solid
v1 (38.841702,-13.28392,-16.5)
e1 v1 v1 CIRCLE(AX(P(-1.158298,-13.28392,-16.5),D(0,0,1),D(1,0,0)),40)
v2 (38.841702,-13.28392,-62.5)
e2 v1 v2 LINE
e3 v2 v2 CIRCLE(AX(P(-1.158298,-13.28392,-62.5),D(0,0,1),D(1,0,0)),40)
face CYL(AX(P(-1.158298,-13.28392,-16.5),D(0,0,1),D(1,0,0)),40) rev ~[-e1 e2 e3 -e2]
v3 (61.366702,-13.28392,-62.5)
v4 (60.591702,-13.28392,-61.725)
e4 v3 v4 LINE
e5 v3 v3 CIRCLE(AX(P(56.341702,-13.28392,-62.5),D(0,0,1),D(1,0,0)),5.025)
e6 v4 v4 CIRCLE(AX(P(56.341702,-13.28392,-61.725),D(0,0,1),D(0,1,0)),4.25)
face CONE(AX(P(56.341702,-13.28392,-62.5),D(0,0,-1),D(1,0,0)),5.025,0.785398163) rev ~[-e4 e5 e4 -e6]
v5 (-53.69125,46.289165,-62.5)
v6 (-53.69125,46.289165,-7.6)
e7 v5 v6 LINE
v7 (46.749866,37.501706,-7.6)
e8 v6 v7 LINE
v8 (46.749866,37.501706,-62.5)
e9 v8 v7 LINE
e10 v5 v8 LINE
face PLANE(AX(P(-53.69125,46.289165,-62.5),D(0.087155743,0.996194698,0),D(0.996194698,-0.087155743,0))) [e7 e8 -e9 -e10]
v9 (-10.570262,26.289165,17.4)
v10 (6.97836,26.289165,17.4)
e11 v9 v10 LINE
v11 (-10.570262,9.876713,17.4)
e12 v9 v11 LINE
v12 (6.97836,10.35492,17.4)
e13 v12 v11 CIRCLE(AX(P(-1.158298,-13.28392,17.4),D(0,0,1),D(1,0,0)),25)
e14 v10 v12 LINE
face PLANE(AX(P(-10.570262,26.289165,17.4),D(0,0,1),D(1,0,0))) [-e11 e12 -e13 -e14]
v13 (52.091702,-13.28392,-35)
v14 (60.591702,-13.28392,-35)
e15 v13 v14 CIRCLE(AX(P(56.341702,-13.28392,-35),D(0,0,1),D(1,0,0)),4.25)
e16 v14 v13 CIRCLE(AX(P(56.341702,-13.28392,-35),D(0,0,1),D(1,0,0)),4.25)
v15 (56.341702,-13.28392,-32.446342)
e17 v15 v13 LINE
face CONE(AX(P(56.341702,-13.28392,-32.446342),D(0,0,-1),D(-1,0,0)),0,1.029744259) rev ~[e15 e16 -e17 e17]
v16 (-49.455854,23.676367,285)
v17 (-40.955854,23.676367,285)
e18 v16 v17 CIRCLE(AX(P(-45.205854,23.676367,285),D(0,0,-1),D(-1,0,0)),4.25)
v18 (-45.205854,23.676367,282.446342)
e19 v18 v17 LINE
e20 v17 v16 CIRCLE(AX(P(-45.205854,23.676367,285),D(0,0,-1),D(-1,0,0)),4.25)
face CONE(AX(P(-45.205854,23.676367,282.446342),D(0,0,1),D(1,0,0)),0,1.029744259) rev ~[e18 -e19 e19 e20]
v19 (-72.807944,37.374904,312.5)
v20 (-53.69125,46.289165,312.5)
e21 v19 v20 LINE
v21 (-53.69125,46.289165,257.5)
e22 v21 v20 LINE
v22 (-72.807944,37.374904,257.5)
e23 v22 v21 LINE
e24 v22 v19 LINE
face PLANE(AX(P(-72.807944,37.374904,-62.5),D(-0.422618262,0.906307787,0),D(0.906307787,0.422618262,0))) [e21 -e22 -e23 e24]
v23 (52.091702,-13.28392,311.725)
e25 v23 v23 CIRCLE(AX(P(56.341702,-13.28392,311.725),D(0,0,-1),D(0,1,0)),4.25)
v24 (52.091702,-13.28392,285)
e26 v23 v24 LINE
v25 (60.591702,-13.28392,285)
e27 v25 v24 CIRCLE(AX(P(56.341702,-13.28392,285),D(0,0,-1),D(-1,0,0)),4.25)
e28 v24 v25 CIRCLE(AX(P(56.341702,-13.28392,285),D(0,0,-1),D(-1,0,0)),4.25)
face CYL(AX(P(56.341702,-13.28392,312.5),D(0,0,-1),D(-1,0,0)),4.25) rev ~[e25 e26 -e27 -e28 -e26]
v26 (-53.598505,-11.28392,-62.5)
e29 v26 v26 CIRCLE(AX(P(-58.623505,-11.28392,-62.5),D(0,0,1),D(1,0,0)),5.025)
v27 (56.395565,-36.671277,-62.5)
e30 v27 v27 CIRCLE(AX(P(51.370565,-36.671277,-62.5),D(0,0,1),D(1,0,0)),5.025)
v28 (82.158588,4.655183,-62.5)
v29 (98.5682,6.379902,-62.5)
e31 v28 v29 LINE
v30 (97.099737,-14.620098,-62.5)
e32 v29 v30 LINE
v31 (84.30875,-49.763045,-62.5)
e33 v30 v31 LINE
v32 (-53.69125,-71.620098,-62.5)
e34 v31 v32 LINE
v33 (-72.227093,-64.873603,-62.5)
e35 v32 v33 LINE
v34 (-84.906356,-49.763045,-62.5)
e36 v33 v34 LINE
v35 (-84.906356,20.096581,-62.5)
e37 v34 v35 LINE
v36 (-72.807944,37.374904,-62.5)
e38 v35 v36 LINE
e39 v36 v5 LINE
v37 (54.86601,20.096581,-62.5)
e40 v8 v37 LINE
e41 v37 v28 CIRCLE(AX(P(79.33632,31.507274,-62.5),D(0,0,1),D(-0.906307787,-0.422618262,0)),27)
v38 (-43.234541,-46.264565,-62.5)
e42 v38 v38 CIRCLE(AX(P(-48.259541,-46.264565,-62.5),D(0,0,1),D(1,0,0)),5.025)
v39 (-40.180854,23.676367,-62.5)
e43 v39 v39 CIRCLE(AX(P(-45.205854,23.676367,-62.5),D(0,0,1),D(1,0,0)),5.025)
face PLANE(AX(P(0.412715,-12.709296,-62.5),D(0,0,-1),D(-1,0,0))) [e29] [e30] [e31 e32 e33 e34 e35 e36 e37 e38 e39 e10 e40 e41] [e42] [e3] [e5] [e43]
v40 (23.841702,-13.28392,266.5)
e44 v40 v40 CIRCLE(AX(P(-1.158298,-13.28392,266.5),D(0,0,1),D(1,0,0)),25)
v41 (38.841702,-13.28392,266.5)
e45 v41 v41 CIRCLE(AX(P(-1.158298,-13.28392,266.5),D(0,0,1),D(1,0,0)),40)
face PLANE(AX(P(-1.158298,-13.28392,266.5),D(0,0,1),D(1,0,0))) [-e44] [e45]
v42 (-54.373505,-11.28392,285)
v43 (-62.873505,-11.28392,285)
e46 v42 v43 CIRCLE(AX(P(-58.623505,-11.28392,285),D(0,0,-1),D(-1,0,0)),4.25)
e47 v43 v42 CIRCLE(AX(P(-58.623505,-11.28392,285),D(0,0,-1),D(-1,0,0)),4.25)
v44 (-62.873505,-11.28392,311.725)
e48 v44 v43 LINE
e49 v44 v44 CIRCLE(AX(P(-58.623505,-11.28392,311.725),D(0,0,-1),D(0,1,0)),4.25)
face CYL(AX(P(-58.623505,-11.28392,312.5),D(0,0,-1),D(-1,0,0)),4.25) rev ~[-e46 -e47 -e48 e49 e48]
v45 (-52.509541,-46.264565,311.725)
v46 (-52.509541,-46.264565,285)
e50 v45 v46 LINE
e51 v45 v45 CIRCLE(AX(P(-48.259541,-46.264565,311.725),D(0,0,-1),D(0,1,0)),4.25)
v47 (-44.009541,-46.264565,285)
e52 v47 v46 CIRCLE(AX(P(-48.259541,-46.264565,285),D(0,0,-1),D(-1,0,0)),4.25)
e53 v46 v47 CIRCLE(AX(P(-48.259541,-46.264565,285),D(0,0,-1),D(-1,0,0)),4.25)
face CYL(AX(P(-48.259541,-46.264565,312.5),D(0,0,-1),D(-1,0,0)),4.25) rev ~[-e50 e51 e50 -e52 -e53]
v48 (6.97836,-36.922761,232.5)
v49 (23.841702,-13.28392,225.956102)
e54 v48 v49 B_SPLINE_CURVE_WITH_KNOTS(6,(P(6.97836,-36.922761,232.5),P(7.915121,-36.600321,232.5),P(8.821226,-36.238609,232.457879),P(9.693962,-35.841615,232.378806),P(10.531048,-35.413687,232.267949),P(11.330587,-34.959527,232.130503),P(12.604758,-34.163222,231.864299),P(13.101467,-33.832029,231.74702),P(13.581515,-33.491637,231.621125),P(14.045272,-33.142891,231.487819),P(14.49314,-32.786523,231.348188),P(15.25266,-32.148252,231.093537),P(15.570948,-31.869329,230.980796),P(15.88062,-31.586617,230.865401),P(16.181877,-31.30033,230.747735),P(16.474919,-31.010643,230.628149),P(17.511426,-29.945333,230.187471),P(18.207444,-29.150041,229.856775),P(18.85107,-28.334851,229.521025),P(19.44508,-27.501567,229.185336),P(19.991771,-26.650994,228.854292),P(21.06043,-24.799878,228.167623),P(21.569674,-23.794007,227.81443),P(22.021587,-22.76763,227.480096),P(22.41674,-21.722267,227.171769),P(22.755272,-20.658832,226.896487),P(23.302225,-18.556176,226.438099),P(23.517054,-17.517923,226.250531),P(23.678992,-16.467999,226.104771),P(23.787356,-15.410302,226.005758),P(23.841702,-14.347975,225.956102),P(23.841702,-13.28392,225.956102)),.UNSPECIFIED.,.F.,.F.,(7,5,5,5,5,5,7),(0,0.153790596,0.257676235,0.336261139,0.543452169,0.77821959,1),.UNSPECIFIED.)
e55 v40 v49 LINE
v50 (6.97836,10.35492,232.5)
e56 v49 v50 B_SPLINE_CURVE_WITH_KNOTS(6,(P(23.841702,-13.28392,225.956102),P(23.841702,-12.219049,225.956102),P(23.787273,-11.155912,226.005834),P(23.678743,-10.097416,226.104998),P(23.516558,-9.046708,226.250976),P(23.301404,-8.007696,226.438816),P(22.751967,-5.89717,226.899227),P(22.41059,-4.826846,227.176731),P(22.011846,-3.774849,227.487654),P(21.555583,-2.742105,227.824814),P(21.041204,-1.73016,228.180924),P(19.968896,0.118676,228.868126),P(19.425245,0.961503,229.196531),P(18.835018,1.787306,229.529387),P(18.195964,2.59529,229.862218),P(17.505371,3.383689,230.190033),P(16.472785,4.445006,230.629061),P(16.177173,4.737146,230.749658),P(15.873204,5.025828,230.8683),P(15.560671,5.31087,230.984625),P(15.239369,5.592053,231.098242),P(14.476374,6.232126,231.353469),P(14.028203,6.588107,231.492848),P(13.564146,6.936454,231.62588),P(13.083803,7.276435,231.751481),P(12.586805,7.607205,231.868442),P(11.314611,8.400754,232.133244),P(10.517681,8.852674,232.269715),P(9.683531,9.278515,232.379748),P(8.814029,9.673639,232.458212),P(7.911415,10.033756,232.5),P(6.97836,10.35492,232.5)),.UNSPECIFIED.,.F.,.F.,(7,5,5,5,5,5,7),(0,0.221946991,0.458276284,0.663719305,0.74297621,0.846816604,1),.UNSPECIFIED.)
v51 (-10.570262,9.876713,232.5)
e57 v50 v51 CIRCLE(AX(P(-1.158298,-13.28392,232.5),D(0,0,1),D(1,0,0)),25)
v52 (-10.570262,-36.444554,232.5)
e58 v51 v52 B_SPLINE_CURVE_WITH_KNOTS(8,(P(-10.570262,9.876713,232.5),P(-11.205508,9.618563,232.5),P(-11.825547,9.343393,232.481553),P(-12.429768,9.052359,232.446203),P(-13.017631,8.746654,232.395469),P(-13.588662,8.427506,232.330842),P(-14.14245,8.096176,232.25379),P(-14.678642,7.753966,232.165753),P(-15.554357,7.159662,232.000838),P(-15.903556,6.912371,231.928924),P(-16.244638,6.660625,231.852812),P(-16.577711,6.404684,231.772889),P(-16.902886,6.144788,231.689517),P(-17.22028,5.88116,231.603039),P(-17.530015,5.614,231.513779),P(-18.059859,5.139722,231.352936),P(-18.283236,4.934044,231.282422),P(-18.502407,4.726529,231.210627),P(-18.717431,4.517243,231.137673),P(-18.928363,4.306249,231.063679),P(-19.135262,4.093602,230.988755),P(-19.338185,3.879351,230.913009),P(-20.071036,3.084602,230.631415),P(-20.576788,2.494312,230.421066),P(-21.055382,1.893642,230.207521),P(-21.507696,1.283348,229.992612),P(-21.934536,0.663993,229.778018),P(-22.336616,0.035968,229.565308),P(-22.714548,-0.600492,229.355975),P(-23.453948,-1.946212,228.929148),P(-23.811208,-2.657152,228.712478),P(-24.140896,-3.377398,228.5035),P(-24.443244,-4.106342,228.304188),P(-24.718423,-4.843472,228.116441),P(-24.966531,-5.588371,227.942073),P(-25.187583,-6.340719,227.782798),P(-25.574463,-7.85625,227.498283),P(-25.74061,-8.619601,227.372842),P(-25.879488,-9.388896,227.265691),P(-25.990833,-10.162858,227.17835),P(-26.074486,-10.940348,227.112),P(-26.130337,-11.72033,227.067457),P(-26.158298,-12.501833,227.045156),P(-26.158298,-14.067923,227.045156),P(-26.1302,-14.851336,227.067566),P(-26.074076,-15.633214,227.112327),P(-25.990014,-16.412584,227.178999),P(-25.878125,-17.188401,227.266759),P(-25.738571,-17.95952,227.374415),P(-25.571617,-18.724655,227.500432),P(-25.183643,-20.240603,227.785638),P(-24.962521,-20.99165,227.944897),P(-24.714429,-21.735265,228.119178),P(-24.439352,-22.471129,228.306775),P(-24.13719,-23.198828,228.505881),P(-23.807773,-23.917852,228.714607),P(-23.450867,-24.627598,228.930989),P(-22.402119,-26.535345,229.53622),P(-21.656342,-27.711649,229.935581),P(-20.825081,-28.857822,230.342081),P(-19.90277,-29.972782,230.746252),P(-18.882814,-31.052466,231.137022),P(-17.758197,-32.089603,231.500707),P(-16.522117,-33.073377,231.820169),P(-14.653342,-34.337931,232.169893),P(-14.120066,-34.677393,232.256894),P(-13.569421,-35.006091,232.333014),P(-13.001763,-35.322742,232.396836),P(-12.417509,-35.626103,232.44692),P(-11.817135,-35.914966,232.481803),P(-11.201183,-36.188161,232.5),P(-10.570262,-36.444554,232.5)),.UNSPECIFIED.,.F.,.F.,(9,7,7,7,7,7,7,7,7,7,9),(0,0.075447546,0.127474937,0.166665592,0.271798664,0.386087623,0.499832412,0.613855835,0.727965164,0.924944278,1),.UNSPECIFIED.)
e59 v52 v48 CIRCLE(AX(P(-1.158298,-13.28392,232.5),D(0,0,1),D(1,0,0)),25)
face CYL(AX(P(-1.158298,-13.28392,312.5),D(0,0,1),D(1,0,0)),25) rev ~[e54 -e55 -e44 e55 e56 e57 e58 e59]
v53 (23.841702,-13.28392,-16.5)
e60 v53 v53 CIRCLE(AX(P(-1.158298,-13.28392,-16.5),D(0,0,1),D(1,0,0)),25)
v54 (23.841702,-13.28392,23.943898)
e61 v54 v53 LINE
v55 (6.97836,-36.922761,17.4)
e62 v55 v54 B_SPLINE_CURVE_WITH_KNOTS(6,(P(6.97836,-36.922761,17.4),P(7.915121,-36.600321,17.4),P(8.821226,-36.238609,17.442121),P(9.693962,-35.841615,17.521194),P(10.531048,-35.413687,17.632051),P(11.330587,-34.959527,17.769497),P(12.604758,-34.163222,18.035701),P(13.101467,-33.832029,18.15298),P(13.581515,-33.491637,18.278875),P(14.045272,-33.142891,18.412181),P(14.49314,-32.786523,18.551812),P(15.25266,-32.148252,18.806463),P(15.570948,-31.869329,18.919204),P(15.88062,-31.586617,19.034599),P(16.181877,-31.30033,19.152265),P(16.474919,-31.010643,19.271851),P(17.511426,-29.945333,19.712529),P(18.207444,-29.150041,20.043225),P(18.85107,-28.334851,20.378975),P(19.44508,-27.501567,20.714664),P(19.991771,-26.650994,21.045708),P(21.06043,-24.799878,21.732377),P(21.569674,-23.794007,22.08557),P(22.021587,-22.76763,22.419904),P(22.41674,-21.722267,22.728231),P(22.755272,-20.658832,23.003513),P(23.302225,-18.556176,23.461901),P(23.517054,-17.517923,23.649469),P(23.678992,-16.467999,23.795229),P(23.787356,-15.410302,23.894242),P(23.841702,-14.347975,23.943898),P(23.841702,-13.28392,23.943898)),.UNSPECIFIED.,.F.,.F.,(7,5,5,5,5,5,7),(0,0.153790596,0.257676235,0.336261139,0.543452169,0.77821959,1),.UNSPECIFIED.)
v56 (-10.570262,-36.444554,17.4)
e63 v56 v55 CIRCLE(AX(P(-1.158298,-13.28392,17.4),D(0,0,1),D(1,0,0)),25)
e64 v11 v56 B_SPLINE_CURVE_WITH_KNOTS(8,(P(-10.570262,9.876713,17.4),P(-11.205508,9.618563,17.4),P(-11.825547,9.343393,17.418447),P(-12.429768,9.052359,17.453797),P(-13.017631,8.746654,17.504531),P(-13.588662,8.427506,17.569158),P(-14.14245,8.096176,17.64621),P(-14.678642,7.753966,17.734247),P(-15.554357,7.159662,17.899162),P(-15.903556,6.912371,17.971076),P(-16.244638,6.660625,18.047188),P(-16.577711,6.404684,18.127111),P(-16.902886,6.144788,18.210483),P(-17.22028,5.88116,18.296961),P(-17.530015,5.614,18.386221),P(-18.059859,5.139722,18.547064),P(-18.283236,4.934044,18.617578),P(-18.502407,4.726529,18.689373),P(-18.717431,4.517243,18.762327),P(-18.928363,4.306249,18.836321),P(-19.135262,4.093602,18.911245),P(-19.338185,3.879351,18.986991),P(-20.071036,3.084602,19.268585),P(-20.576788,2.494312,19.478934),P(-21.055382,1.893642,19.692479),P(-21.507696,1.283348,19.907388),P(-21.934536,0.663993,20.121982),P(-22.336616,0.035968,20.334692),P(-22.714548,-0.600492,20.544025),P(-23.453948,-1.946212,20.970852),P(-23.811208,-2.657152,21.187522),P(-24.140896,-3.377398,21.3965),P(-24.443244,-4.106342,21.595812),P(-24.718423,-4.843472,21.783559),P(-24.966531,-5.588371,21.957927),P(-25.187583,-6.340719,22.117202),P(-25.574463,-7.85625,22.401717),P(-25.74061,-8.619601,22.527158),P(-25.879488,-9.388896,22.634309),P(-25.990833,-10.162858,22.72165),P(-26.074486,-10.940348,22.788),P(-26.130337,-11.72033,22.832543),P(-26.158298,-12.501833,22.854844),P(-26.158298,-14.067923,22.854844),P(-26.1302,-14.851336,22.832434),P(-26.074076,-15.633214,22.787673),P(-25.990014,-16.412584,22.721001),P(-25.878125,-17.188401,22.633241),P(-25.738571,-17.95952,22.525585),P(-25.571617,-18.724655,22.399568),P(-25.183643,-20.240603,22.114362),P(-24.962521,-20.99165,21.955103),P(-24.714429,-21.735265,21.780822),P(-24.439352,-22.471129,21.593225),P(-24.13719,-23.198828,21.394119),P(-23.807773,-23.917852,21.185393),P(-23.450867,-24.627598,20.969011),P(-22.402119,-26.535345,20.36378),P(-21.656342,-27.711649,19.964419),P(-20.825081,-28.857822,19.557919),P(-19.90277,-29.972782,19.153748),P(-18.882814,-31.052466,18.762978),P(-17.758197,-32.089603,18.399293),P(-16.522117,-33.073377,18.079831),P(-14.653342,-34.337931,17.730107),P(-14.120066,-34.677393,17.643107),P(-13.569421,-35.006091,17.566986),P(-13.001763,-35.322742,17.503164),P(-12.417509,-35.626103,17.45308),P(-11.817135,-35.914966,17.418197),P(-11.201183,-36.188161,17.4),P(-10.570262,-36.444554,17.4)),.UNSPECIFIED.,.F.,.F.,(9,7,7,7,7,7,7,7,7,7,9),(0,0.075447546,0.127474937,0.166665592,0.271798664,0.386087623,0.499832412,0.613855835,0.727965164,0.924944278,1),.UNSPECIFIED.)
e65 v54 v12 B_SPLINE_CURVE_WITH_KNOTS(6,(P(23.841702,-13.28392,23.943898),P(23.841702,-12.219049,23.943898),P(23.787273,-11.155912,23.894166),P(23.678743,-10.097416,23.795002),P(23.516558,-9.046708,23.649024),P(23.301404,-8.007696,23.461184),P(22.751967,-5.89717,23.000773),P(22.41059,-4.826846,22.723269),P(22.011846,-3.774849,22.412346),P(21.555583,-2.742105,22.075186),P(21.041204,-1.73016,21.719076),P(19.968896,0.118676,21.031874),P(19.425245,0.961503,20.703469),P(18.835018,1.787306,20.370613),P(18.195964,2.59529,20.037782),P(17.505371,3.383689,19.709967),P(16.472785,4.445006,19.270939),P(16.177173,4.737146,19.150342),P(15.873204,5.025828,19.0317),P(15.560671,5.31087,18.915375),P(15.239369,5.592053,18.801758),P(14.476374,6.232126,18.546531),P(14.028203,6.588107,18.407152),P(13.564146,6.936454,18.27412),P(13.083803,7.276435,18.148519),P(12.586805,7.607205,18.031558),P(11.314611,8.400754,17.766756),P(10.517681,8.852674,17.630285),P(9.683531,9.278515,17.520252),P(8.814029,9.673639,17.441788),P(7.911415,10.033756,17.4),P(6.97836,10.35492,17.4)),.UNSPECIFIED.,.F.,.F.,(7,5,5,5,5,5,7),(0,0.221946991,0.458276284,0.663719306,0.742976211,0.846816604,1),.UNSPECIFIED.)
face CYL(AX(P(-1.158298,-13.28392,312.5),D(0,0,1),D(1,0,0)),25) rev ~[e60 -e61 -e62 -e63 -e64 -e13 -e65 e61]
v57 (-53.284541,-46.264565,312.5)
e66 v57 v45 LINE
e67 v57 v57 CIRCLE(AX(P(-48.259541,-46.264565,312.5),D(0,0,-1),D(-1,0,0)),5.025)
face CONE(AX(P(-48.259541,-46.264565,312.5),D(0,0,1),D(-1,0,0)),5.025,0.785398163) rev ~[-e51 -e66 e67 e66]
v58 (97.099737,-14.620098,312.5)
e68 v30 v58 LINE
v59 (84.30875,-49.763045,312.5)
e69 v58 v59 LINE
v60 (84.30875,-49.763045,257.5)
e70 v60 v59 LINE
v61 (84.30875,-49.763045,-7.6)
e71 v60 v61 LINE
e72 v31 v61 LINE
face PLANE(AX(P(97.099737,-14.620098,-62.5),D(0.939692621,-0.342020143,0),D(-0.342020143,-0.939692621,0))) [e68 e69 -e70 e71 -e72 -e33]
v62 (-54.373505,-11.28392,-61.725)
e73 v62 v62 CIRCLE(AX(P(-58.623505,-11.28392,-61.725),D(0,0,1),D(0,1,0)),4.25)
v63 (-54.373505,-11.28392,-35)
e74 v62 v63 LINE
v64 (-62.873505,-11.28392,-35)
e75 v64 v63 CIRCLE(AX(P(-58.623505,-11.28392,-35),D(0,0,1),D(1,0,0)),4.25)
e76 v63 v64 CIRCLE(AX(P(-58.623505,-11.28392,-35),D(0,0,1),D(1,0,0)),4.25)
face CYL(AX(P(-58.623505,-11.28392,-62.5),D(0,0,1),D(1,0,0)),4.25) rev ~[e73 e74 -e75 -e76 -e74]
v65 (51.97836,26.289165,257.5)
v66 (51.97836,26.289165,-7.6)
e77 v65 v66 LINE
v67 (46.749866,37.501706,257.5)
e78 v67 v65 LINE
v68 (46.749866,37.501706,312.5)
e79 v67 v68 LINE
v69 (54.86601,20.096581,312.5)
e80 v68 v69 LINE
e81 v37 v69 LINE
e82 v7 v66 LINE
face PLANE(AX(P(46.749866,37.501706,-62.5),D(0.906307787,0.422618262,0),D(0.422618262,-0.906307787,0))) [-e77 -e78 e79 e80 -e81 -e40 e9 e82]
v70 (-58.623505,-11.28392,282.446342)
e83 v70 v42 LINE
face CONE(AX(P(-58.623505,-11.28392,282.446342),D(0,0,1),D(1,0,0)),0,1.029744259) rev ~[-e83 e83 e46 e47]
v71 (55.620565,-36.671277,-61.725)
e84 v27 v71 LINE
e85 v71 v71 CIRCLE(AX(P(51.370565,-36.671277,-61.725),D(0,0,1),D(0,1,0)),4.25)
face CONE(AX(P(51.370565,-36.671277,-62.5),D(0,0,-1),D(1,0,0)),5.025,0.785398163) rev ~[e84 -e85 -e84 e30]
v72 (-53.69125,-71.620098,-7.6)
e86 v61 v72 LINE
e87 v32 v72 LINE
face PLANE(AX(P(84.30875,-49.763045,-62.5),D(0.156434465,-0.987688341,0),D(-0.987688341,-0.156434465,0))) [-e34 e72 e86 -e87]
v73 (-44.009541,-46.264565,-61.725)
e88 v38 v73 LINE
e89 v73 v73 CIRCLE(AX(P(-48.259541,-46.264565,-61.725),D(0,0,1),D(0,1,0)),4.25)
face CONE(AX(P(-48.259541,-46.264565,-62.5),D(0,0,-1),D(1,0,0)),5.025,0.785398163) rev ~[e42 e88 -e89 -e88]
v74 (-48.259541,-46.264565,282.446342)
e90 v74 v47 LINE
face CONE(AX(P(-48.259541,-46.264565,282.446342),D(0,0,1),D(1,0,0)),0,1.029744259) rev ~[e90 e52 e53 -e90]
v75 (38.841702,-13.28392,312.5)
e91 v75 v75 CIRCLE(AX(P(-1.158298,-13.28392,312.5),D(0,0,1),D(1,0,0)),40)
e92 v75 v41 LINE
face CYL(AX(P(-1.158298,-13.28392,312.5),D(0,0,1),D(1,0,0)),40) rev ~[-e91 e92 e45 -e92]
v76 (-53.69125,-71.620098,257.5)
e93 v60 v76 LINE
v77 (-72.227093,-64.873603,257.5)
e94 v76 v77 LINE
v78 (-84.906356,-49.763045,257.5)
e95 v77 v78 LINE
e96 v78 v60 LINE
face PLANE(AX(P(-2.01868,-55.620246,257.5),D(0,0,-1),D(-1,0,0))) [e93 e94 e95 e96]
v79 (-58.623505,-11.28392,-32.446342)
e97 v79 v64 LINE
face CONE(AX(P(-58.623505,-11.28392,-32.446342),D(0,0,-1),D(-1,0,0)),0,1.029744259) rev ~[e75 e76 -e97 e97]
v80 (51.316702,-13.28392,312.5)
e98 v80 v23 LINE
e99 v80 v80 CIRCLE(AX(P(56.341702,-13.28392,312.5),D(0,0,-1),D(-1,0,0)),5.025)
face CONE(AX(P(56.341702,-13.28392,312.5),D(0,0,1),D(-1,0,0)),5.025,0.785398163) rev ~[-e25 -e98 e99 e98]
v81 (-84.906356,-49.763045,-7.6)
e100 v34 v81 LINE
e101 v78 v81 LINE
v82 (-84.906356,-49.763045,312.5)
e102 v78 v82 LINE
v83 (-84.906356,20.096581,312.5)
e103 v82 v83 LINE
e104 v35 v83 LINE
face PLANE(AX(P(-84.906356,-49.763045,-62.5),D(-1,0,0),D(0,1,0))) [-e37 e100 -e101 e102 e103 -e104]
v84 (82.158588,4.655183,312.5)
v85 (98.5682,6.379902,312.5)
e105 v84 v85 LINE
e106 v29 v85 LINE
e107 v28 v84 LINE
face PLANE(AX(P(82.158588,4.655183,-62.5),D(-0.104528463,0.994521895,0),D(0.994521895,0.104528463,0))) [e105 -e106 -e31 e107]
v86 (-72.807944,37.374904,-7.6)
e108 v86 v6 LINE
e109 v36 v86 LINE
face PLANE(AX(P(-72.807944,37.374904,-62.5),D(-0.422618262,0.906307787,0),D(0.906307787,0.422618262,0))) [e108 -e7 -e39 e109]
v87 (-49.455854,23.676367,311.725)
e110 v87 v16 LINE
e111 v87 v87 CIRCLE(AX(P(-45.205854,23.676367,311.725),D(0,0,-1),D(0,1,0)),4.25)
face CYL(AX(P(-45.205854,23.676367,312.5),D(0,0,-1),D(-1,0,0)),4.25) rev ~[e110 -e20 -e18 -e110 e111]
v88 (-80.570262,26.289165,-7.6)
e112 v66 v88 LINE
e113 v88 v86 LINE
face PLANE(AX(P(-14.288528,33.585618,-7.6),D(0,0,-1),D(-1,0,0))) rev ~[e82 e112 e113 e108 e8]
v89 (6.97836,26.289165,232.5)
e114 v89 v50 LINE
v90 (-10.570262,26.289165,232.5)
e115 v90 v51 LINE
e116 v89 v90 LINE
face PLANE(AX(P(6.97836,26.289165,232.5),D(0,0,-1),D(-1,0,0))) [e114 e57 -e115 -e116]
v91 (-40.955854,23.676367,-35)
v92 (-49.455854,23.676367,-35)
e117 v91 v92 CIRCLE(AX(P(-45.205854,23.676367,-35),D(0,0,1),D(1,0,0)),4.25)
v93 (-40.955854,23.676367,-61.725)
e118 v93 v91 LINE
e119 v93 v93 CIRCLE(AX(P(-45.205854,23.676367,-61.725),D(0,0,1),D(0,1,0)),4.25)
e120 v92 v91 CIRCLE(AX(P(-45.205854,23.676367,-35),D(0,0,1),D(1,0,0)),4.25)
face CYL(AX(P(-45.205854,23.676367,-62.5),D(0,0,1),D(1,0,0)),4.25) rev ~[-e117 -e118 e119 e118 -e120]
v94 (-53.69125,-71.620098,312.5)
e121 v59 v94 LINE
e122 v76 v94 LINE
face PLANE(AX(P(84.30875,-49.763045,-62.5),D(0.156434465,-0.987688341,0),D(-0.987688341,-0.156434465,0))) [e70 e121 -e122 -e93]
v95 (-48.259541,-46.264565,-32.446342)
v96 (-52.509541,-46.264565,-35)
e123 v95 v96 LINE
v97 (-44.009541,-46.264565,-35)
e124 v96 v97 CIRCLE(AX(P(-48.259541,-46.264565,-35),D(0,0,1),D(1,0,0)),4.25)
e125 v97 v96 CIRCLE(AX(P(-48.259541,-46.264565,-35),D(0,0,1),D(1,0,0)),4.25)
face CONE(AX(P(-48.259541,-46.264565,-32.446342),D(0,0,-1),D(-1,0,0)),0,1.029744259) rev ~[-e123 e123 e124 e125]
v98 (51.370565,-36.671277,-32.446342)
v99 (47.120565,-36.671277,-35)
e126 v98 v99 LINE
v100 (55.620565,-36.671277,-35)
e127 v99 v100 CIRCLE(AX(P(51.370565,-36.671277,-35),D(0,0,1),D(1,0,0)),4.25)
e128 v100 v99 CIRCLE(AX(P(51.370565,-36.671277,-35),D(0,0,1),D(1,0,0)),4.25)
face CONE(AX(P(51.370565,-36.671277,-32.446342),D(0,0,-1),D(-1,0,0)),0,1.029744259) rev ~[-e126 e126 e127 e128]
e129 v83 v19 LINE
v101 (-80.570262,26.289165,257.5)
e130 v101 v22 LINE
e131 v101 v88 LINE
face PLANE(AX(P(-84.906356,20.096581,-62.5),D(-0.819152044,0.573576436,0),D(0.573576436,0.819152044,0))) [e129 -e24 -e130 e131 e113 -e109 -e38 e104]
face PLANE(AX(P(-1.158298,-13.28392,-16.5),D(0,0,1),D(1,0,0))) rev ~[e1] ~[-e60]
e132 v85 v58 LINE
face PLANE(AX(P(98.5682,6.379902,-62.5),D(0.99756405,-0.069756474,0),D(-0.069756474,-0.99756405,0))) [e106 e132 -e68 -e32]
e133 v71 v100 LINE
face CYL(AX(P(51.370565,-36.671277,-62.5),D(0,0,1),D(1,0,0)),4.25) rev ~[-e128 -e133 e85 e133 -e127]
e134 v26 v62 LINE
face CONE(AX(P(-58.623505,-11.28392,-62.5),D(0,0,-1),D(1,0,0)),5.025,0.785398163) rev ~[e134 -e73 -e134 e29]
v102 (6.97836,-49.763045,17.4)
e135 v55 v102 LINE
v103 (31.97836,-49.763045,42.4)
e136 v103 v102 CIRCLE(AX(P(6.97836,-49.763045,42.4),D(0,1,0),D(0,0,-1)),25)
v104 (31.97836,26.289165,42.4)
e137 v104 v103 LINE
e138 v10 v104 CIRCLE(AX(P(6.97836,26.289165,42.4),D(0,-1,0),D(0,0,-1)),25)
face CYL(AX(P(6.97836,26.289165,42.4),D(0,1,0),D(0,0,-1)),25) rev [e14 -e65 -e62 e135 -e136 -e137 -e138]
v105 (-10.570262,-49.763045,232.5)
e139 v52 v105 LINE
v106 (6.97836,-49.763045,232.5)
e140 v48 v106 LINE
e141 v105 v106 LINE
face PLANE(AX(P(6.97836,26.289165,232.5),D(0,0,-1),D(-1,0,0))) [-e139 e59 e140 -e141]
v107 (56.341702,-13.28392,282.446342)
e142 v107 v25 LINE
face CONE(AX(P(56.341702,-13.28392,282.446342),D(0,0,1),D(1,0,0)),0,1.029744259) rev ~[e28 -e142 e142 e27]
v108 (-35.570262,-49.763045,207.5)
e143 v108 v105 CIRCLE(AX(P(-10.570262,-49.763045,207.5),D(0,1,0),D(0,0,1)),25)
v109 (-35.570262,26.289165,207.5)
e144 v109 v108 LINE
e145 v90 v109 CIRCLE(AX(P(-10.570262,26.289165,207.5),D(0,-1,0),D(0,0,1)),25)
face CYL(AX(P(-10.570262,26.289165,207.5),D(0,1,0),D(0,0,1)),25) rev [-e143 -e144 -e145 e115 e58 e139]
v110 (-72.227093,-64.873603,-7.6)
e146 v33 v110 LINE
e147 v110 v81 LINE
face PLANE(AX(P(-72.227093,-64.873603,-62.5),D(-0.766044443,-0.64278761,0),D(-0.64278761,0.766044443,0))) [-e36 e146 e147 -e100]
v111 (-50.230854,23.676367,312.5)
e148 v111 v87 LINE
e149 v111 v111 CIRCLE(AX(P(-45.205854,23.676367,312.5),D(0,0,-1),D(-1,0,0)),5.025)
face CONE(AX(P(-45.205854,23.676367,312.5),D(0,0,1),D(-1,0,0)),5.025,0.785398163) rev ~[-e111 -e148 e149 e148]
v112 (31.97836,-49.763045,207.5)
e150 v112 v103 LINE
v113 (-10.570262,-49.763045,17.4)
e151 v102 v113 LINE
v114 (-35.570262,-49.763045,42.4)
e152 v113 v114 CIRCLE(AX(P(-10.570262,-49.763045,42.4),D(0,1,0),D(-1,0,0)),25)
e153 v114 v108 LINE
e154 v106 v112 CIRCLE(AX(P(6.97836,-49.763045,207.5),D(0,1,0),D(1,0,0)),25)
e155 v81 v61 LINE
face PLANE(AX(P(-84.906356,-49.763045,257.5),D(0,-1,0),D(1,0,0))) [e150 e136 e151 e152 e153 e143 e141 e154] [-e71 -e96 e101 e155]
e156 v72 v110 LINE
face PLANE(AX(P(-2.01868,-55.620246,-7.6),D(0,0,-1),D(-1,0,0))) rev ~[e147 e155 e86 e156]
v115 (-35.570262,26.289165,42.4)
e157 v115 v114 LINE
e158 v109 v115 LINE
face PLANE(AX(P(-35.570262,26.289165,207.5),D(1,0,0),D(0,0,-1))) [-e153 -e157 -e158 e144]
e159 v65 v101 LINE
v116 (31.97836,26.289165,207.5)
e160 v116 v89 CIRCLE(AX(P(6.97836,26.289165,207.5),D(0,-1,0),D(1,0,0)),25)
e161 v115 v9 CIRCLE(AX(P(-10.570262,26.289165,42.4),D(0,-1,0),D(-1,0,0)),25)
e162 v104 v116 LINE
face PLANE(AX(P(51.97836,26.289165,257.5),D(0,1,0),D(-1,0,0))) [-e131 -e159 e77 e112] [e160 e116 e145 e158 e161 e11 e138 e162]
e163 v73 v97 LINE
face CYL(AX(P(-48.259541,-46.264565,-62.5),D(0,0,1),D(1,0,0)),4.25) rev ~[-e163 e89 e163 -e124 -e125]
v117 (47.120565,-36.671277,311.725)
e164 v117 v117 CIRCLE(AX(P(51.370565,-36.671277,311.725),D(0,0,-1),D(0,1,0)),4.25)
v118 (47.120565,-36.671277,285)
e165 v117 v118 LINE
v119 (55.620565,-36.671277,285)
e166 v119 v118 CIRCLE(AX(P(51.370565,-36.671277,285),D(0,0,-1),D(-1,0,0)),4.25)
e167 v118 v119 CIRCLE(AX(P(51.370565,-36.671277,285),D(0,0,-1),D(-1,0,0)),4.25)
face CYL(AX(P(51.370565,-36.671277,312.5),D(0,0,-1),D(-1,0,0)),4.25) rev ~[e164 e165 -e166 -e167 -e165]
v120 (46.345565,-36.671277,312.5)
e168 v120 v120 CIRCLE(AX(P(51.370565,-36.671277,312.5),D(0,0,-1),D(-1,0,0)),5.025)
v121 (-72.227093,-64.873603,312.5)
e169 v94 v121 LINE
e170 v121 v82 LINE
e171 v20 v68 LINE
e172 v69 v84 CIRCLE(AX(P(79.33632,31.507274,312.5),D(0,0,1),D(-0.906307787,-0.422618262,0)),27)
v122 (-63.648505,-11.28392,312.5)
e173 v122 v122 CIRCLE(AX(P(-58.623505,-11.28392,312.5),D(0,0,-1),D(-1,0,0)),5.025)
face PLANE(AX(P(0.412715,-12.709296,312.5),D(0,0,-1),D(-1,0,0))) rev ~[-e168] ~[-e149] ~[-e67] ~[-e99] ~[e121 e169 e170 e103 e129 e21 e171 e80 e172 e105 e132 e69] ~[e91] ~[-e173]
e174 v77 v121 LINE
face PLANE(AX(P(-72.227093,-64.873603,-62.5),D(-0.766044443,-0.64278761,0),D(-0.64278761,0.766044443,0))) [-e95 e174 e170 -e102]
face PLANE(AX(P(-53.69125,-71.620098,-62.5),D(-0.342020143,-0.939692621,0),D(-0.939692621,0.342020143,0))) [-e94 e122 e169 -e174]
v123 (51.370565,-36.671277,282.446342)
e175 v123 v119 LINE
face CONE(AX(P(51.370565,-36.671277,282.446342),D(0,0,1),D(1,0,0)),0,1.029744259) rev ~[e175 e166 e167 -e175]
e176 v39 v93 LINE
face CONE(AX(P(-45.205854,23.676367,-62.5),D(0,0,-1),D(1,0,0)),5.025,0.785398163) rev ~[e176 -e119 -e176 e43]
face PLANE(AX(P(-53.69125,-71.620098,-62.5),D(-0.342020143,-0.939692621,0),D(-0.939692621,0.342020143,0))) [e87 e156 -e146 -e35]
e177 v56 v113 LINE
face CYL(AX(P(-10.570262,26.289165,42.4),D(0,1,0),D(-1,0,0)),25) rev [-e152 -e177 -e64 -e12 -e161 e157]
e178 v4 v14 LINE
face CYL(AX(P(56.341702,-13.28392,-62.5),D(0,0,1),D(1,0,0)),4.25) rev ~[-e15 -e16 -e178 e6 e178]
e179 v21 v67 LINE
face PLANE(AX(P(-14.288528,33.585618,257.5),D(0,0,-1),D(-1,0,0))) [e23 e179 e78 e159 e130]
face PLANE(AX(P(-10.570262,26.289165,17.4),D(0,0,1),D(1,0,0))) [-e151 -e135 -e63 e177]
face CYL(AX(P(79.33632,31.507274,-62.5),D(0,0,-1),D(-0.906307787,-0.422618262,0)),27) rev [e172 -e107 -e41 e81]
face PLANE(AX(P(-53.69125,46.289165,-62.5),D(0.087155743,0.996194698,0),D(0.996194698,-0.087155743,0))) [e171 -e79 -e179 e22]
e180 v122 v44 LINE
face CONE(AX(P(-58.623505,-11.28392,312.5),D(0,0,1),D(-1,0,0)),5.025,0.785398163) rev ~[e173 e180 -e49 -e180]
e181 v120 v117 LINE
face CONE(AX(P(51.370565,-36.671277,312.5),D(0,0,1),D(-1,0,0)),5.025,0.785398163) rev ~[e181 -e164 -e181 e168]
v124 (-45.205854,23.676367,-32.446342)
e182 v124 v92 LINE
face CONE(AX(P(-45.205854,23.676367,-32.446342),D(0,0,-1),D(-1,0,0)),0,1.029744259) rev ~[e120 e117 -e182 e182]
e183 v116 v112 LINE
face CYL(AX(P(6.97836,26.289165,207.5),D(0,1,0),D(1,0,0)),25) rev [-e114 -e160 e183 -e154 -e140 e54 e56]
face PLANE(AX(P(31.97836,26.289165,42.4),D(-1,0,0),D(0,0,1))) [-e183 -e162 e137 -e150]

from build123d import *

# Parameters (mm, degrees)
RESSALTO_EXTRUS_O1_DEPTH             = 250
ESCALA1_SCALE                        = 1.5
AL_VIOS_SUPERIOR_INFERIOR_DEPTH      = 0.1
AL_VIOS_SUPERIOR_INFERIOR_DEPTH_BACK = 265
AL_VIOS_SUPERIOR_INFERIOR_START      = -55
AL_VIO_CENTRAL_DEPTH                 = 342.991467302
ESBO_O7_R                            = 40
REBAIXO_ROLAMENTO_PAI_DEPTH          = 46
ESBO_O7_3_R                          = 25
REBAIXO_ROLAMENTO_FILHO_DEPTH        = 395.297005295
FURO_START                           = -329
FURO_EIXO_ARMA_FILHO_DEPTH           = 46
FUROS_POLIA_PAI_D                    = 8.5
FUROS_POLIA_PAI_DEPTH                = 27.5
FUROS_POLIA_PAI_CSINK_D              = 10.05
FUROS_POLIA_PAI_CSINK_ANGLE          = 90
FUROS_POLIA_PAI_TIP                  = 2.553657631
FUROS_POLIA_FILHO_D                  = 8.5
FUROS_POLIA_FILHO_DEPTH              = 27.5
FUROS_POLIA_FILHO_CSINK_D            = 10.05
FUROS_POLIA_FILHO_CSINK_ANGLE        = 90
FUROS_POLIA_FILHO_TIP                = 2.553657631


with BuildPart() as part:
    # Esboço1 → Ressalto-extrusão1 (new body)
    with BuildSketch(Plane.XY):
        with BuildLine():
            Line((64.316370752, 0), (63.337395385, -14))
            Line((63.337395385, -14), (54.810070893, -37.42863149))
            Line((54.810070893, -37.42863149), (-37.189929107, -52))
            Line((-37.189929107, -52), (-49.547157766, -47.50233659))
            Line((-49.547157766, -47.50233659), (-58, -37.42863149))
            Line((-58, -37.42863149), (-58, 9.144452309))
            Line((-58, 9.144452309), (-49.934391816, 20.66333456))
            Line((-49.934391816, 20.66333456), (-37.189929107, 26.60617512))
            Line((-37.189929107, 26.60617512), (29.770815295, 20.747869084))
            Line((29.770815295, 20.747869084), (35.181577398, 9.144452309))
            ThreePointArc((35.181577398, 9.144452309), (42.631493482, 1.085178494), (53.376629903, -1.149813096))
            Line((53.376629903, -1.149813096), (64.316370752, 0))
        make_face()
    extrude(amount=RESSALTO_EXTRUS_O1_DEPTH)


with BuildPart() as part_1:
    # Escala1: scaled about (-4.187287107, -12.759804583, 125)
    add(part.part.scale(ESCALA1_SCALE).moved(Location((2.093643554, 6.379902291, -62.5))))

    # Esboço4 → Alívios superior / inferior (cut, two sides: drawn at the far end of the back side and taken through both)
    with BuildSketch(Plane(origin=(0, 0, -62.5), x_dir=(-1, 0, 0), z_dir=(0, 0, -1)).offset(AL_VIOS_SUPERIOR_INFERIOR_START - AL_VIOS_SUPERIOR_INFERIOR_DEPTH_BACK)):
        Polygon((-46.749866496, 37.501705917), (-51.978360206, 26.289164972), (80.570262297, 26.289164972), (72.807944171, 37.374904131), (53.691250107, 46.289164972), align=None)
        Polygon((72.227093095, -64.873602594), (84.906356446, -49.763044944), (-84.308749893, -49.763044944), (53.691250107, -71.620097709), align=None)
    extrude(amount=AL_VIOS_SUPERIOR_INFERIOR_DEPTH + AL_VIOS_SUPERIOR_INFERIOR_DEPTH_BACK, mode=Mode.SUBTRACT)

    # Esboço15 → Alívio Central (cut, through all)
    with BuildSketch(Plane(origin=(0, 26.289164972, 0), x_dir=(1, 0, 0), z_dir=(0, 1, 0))):
        with BuildLine():
            Line((-10.570262297, -17.4), (6.978360206, -17.4))
            ThreePointArc((6.978360206, -17.4), (24.656029736, -24.72233047), (31.978360206, -42.4))
            Line((31.978360206, -42.4), (31.978360206, -207.5))
            ThreePointArc((31.978360206, -207.5), (24.656029736, -225.17766953), (6.978360206, -232.5))
            Line((6.978360206, -232.5), (-10.570262297, -232.5))
            ThreePointArc((-10.570262297, -232.5), (-28.247931827, -225.17766953), (-35.570262297, -207.5))
            Line((-35.570262297, -207.5), (-35.570262297, -42.4))
            ThreePointArc((-35.570262297, -42.4), (-28.247931827, -24.72233047), (-10.570262297, -17.4))
        make_face()
    extrude(amount=-AL_VIO_CENTRAL_DEPTH, mode=Mode.SUBTRACT)

    # Esboço7 → Rebaixo rolamento (Pai) (cut)
    with BuildSketch(Plane.XY.offset(312.5)):
        with Locations((-1.158298377, -13.283920248)):
            Circle(ESBO_O7_R)
    extrude(amount=-REBAIXO_ROLAMENTO_PAI_DEPTH, mode=Mode.SUBTRACT)

    # Esboço7<3> → Rebaixo rolamento (Filho) (cut, through all)
    with BuildSketch(Plane.XY.offset(312.5)):
        with Locations((-1.158298377, -13.283920248)):
            Circle(ESBO_O7_3_R)
    extrude(amount=-REBAIXO_ROLAMENTO_FILHO_DEPTH, mode=Mode.SUBTRACT)

    # Esboço7 → Furo eixo arma (Filho) (cut)
    with BuildSketch(Plane.XY.offset(312.5).offset(FURO_START)):
        with Locations((-1.158298377, -13.283920248)):
            Circle(ESBO_O7_R)
    extrude(amount=-FURO_EIXO_ARMA_FILHO_DEPTH, mode=Mode.SUBTRACT)

    # Furos Polia (Pai)
    with Locations(Plane.XY.offset(312.5)):
        with Locations((56.341701623, -13.283920248), (-45.205853857, 23.676367309), (-58.623505242, -11.283920248), (-48.259540924, -46.264565338), (51.370565437, -36.671277225)):
            CounterSinkHole(FUROS_POLIA_PAI_D / 2, FUROS_POLIA_PAI_CSINK_D / 2, depth=FUROS_POLIA_PAI_DEPTH, counter_sink_angle=FUROS_POLIA_PAI_CSINK_ANGLE)
            with Locations((0, 0, -(FUROS_POLIA_PAI_DEPTH + FUROS_POLIA_PAI_TIP / 2))):  # 118° drill point
                Cone(0, FUROS_POLIA_PAI_D / 2, FUROS_POLIA_PAI_TIP, mode=Mode.SUBTRACT)

    # Furos Polia (Filho)
    with Locations(Plane(origin=(0, 0, -62.5), x_dir=(-1, 0, 0), z_dir=(0, 0, -1))):
        with Locations((45.205853857, 23.676367309), (58.623505242, -11.283920248), (48.259540924, -46.264565338), (-51.370565437, -36.671277225), (-56.341701623, -13.283920248)):
            CounterSinkHole(FUROS_POLIA_FILHO_D / 2, FUROS_POLIA_FILHO_CSINK_D / 2, depth=FUROS_POLIA_FILHO_DEPTH, counter_sink_angle=FUROS_POLIA_FILHO_CSINK_ANGLE)
            with Locations((0, 0, -(FUROS_POLIA_FILHO_DEPTH + FUROS_POLIA_FILHO_TIP / 2))):  # 118° drill point
                Cone(0, FUROS_POLIA_FILHO_D / 2, FUROS_POLIA_FILHO_TIP, mode=Mode.SUBTRACT)


solid = part_1.part
